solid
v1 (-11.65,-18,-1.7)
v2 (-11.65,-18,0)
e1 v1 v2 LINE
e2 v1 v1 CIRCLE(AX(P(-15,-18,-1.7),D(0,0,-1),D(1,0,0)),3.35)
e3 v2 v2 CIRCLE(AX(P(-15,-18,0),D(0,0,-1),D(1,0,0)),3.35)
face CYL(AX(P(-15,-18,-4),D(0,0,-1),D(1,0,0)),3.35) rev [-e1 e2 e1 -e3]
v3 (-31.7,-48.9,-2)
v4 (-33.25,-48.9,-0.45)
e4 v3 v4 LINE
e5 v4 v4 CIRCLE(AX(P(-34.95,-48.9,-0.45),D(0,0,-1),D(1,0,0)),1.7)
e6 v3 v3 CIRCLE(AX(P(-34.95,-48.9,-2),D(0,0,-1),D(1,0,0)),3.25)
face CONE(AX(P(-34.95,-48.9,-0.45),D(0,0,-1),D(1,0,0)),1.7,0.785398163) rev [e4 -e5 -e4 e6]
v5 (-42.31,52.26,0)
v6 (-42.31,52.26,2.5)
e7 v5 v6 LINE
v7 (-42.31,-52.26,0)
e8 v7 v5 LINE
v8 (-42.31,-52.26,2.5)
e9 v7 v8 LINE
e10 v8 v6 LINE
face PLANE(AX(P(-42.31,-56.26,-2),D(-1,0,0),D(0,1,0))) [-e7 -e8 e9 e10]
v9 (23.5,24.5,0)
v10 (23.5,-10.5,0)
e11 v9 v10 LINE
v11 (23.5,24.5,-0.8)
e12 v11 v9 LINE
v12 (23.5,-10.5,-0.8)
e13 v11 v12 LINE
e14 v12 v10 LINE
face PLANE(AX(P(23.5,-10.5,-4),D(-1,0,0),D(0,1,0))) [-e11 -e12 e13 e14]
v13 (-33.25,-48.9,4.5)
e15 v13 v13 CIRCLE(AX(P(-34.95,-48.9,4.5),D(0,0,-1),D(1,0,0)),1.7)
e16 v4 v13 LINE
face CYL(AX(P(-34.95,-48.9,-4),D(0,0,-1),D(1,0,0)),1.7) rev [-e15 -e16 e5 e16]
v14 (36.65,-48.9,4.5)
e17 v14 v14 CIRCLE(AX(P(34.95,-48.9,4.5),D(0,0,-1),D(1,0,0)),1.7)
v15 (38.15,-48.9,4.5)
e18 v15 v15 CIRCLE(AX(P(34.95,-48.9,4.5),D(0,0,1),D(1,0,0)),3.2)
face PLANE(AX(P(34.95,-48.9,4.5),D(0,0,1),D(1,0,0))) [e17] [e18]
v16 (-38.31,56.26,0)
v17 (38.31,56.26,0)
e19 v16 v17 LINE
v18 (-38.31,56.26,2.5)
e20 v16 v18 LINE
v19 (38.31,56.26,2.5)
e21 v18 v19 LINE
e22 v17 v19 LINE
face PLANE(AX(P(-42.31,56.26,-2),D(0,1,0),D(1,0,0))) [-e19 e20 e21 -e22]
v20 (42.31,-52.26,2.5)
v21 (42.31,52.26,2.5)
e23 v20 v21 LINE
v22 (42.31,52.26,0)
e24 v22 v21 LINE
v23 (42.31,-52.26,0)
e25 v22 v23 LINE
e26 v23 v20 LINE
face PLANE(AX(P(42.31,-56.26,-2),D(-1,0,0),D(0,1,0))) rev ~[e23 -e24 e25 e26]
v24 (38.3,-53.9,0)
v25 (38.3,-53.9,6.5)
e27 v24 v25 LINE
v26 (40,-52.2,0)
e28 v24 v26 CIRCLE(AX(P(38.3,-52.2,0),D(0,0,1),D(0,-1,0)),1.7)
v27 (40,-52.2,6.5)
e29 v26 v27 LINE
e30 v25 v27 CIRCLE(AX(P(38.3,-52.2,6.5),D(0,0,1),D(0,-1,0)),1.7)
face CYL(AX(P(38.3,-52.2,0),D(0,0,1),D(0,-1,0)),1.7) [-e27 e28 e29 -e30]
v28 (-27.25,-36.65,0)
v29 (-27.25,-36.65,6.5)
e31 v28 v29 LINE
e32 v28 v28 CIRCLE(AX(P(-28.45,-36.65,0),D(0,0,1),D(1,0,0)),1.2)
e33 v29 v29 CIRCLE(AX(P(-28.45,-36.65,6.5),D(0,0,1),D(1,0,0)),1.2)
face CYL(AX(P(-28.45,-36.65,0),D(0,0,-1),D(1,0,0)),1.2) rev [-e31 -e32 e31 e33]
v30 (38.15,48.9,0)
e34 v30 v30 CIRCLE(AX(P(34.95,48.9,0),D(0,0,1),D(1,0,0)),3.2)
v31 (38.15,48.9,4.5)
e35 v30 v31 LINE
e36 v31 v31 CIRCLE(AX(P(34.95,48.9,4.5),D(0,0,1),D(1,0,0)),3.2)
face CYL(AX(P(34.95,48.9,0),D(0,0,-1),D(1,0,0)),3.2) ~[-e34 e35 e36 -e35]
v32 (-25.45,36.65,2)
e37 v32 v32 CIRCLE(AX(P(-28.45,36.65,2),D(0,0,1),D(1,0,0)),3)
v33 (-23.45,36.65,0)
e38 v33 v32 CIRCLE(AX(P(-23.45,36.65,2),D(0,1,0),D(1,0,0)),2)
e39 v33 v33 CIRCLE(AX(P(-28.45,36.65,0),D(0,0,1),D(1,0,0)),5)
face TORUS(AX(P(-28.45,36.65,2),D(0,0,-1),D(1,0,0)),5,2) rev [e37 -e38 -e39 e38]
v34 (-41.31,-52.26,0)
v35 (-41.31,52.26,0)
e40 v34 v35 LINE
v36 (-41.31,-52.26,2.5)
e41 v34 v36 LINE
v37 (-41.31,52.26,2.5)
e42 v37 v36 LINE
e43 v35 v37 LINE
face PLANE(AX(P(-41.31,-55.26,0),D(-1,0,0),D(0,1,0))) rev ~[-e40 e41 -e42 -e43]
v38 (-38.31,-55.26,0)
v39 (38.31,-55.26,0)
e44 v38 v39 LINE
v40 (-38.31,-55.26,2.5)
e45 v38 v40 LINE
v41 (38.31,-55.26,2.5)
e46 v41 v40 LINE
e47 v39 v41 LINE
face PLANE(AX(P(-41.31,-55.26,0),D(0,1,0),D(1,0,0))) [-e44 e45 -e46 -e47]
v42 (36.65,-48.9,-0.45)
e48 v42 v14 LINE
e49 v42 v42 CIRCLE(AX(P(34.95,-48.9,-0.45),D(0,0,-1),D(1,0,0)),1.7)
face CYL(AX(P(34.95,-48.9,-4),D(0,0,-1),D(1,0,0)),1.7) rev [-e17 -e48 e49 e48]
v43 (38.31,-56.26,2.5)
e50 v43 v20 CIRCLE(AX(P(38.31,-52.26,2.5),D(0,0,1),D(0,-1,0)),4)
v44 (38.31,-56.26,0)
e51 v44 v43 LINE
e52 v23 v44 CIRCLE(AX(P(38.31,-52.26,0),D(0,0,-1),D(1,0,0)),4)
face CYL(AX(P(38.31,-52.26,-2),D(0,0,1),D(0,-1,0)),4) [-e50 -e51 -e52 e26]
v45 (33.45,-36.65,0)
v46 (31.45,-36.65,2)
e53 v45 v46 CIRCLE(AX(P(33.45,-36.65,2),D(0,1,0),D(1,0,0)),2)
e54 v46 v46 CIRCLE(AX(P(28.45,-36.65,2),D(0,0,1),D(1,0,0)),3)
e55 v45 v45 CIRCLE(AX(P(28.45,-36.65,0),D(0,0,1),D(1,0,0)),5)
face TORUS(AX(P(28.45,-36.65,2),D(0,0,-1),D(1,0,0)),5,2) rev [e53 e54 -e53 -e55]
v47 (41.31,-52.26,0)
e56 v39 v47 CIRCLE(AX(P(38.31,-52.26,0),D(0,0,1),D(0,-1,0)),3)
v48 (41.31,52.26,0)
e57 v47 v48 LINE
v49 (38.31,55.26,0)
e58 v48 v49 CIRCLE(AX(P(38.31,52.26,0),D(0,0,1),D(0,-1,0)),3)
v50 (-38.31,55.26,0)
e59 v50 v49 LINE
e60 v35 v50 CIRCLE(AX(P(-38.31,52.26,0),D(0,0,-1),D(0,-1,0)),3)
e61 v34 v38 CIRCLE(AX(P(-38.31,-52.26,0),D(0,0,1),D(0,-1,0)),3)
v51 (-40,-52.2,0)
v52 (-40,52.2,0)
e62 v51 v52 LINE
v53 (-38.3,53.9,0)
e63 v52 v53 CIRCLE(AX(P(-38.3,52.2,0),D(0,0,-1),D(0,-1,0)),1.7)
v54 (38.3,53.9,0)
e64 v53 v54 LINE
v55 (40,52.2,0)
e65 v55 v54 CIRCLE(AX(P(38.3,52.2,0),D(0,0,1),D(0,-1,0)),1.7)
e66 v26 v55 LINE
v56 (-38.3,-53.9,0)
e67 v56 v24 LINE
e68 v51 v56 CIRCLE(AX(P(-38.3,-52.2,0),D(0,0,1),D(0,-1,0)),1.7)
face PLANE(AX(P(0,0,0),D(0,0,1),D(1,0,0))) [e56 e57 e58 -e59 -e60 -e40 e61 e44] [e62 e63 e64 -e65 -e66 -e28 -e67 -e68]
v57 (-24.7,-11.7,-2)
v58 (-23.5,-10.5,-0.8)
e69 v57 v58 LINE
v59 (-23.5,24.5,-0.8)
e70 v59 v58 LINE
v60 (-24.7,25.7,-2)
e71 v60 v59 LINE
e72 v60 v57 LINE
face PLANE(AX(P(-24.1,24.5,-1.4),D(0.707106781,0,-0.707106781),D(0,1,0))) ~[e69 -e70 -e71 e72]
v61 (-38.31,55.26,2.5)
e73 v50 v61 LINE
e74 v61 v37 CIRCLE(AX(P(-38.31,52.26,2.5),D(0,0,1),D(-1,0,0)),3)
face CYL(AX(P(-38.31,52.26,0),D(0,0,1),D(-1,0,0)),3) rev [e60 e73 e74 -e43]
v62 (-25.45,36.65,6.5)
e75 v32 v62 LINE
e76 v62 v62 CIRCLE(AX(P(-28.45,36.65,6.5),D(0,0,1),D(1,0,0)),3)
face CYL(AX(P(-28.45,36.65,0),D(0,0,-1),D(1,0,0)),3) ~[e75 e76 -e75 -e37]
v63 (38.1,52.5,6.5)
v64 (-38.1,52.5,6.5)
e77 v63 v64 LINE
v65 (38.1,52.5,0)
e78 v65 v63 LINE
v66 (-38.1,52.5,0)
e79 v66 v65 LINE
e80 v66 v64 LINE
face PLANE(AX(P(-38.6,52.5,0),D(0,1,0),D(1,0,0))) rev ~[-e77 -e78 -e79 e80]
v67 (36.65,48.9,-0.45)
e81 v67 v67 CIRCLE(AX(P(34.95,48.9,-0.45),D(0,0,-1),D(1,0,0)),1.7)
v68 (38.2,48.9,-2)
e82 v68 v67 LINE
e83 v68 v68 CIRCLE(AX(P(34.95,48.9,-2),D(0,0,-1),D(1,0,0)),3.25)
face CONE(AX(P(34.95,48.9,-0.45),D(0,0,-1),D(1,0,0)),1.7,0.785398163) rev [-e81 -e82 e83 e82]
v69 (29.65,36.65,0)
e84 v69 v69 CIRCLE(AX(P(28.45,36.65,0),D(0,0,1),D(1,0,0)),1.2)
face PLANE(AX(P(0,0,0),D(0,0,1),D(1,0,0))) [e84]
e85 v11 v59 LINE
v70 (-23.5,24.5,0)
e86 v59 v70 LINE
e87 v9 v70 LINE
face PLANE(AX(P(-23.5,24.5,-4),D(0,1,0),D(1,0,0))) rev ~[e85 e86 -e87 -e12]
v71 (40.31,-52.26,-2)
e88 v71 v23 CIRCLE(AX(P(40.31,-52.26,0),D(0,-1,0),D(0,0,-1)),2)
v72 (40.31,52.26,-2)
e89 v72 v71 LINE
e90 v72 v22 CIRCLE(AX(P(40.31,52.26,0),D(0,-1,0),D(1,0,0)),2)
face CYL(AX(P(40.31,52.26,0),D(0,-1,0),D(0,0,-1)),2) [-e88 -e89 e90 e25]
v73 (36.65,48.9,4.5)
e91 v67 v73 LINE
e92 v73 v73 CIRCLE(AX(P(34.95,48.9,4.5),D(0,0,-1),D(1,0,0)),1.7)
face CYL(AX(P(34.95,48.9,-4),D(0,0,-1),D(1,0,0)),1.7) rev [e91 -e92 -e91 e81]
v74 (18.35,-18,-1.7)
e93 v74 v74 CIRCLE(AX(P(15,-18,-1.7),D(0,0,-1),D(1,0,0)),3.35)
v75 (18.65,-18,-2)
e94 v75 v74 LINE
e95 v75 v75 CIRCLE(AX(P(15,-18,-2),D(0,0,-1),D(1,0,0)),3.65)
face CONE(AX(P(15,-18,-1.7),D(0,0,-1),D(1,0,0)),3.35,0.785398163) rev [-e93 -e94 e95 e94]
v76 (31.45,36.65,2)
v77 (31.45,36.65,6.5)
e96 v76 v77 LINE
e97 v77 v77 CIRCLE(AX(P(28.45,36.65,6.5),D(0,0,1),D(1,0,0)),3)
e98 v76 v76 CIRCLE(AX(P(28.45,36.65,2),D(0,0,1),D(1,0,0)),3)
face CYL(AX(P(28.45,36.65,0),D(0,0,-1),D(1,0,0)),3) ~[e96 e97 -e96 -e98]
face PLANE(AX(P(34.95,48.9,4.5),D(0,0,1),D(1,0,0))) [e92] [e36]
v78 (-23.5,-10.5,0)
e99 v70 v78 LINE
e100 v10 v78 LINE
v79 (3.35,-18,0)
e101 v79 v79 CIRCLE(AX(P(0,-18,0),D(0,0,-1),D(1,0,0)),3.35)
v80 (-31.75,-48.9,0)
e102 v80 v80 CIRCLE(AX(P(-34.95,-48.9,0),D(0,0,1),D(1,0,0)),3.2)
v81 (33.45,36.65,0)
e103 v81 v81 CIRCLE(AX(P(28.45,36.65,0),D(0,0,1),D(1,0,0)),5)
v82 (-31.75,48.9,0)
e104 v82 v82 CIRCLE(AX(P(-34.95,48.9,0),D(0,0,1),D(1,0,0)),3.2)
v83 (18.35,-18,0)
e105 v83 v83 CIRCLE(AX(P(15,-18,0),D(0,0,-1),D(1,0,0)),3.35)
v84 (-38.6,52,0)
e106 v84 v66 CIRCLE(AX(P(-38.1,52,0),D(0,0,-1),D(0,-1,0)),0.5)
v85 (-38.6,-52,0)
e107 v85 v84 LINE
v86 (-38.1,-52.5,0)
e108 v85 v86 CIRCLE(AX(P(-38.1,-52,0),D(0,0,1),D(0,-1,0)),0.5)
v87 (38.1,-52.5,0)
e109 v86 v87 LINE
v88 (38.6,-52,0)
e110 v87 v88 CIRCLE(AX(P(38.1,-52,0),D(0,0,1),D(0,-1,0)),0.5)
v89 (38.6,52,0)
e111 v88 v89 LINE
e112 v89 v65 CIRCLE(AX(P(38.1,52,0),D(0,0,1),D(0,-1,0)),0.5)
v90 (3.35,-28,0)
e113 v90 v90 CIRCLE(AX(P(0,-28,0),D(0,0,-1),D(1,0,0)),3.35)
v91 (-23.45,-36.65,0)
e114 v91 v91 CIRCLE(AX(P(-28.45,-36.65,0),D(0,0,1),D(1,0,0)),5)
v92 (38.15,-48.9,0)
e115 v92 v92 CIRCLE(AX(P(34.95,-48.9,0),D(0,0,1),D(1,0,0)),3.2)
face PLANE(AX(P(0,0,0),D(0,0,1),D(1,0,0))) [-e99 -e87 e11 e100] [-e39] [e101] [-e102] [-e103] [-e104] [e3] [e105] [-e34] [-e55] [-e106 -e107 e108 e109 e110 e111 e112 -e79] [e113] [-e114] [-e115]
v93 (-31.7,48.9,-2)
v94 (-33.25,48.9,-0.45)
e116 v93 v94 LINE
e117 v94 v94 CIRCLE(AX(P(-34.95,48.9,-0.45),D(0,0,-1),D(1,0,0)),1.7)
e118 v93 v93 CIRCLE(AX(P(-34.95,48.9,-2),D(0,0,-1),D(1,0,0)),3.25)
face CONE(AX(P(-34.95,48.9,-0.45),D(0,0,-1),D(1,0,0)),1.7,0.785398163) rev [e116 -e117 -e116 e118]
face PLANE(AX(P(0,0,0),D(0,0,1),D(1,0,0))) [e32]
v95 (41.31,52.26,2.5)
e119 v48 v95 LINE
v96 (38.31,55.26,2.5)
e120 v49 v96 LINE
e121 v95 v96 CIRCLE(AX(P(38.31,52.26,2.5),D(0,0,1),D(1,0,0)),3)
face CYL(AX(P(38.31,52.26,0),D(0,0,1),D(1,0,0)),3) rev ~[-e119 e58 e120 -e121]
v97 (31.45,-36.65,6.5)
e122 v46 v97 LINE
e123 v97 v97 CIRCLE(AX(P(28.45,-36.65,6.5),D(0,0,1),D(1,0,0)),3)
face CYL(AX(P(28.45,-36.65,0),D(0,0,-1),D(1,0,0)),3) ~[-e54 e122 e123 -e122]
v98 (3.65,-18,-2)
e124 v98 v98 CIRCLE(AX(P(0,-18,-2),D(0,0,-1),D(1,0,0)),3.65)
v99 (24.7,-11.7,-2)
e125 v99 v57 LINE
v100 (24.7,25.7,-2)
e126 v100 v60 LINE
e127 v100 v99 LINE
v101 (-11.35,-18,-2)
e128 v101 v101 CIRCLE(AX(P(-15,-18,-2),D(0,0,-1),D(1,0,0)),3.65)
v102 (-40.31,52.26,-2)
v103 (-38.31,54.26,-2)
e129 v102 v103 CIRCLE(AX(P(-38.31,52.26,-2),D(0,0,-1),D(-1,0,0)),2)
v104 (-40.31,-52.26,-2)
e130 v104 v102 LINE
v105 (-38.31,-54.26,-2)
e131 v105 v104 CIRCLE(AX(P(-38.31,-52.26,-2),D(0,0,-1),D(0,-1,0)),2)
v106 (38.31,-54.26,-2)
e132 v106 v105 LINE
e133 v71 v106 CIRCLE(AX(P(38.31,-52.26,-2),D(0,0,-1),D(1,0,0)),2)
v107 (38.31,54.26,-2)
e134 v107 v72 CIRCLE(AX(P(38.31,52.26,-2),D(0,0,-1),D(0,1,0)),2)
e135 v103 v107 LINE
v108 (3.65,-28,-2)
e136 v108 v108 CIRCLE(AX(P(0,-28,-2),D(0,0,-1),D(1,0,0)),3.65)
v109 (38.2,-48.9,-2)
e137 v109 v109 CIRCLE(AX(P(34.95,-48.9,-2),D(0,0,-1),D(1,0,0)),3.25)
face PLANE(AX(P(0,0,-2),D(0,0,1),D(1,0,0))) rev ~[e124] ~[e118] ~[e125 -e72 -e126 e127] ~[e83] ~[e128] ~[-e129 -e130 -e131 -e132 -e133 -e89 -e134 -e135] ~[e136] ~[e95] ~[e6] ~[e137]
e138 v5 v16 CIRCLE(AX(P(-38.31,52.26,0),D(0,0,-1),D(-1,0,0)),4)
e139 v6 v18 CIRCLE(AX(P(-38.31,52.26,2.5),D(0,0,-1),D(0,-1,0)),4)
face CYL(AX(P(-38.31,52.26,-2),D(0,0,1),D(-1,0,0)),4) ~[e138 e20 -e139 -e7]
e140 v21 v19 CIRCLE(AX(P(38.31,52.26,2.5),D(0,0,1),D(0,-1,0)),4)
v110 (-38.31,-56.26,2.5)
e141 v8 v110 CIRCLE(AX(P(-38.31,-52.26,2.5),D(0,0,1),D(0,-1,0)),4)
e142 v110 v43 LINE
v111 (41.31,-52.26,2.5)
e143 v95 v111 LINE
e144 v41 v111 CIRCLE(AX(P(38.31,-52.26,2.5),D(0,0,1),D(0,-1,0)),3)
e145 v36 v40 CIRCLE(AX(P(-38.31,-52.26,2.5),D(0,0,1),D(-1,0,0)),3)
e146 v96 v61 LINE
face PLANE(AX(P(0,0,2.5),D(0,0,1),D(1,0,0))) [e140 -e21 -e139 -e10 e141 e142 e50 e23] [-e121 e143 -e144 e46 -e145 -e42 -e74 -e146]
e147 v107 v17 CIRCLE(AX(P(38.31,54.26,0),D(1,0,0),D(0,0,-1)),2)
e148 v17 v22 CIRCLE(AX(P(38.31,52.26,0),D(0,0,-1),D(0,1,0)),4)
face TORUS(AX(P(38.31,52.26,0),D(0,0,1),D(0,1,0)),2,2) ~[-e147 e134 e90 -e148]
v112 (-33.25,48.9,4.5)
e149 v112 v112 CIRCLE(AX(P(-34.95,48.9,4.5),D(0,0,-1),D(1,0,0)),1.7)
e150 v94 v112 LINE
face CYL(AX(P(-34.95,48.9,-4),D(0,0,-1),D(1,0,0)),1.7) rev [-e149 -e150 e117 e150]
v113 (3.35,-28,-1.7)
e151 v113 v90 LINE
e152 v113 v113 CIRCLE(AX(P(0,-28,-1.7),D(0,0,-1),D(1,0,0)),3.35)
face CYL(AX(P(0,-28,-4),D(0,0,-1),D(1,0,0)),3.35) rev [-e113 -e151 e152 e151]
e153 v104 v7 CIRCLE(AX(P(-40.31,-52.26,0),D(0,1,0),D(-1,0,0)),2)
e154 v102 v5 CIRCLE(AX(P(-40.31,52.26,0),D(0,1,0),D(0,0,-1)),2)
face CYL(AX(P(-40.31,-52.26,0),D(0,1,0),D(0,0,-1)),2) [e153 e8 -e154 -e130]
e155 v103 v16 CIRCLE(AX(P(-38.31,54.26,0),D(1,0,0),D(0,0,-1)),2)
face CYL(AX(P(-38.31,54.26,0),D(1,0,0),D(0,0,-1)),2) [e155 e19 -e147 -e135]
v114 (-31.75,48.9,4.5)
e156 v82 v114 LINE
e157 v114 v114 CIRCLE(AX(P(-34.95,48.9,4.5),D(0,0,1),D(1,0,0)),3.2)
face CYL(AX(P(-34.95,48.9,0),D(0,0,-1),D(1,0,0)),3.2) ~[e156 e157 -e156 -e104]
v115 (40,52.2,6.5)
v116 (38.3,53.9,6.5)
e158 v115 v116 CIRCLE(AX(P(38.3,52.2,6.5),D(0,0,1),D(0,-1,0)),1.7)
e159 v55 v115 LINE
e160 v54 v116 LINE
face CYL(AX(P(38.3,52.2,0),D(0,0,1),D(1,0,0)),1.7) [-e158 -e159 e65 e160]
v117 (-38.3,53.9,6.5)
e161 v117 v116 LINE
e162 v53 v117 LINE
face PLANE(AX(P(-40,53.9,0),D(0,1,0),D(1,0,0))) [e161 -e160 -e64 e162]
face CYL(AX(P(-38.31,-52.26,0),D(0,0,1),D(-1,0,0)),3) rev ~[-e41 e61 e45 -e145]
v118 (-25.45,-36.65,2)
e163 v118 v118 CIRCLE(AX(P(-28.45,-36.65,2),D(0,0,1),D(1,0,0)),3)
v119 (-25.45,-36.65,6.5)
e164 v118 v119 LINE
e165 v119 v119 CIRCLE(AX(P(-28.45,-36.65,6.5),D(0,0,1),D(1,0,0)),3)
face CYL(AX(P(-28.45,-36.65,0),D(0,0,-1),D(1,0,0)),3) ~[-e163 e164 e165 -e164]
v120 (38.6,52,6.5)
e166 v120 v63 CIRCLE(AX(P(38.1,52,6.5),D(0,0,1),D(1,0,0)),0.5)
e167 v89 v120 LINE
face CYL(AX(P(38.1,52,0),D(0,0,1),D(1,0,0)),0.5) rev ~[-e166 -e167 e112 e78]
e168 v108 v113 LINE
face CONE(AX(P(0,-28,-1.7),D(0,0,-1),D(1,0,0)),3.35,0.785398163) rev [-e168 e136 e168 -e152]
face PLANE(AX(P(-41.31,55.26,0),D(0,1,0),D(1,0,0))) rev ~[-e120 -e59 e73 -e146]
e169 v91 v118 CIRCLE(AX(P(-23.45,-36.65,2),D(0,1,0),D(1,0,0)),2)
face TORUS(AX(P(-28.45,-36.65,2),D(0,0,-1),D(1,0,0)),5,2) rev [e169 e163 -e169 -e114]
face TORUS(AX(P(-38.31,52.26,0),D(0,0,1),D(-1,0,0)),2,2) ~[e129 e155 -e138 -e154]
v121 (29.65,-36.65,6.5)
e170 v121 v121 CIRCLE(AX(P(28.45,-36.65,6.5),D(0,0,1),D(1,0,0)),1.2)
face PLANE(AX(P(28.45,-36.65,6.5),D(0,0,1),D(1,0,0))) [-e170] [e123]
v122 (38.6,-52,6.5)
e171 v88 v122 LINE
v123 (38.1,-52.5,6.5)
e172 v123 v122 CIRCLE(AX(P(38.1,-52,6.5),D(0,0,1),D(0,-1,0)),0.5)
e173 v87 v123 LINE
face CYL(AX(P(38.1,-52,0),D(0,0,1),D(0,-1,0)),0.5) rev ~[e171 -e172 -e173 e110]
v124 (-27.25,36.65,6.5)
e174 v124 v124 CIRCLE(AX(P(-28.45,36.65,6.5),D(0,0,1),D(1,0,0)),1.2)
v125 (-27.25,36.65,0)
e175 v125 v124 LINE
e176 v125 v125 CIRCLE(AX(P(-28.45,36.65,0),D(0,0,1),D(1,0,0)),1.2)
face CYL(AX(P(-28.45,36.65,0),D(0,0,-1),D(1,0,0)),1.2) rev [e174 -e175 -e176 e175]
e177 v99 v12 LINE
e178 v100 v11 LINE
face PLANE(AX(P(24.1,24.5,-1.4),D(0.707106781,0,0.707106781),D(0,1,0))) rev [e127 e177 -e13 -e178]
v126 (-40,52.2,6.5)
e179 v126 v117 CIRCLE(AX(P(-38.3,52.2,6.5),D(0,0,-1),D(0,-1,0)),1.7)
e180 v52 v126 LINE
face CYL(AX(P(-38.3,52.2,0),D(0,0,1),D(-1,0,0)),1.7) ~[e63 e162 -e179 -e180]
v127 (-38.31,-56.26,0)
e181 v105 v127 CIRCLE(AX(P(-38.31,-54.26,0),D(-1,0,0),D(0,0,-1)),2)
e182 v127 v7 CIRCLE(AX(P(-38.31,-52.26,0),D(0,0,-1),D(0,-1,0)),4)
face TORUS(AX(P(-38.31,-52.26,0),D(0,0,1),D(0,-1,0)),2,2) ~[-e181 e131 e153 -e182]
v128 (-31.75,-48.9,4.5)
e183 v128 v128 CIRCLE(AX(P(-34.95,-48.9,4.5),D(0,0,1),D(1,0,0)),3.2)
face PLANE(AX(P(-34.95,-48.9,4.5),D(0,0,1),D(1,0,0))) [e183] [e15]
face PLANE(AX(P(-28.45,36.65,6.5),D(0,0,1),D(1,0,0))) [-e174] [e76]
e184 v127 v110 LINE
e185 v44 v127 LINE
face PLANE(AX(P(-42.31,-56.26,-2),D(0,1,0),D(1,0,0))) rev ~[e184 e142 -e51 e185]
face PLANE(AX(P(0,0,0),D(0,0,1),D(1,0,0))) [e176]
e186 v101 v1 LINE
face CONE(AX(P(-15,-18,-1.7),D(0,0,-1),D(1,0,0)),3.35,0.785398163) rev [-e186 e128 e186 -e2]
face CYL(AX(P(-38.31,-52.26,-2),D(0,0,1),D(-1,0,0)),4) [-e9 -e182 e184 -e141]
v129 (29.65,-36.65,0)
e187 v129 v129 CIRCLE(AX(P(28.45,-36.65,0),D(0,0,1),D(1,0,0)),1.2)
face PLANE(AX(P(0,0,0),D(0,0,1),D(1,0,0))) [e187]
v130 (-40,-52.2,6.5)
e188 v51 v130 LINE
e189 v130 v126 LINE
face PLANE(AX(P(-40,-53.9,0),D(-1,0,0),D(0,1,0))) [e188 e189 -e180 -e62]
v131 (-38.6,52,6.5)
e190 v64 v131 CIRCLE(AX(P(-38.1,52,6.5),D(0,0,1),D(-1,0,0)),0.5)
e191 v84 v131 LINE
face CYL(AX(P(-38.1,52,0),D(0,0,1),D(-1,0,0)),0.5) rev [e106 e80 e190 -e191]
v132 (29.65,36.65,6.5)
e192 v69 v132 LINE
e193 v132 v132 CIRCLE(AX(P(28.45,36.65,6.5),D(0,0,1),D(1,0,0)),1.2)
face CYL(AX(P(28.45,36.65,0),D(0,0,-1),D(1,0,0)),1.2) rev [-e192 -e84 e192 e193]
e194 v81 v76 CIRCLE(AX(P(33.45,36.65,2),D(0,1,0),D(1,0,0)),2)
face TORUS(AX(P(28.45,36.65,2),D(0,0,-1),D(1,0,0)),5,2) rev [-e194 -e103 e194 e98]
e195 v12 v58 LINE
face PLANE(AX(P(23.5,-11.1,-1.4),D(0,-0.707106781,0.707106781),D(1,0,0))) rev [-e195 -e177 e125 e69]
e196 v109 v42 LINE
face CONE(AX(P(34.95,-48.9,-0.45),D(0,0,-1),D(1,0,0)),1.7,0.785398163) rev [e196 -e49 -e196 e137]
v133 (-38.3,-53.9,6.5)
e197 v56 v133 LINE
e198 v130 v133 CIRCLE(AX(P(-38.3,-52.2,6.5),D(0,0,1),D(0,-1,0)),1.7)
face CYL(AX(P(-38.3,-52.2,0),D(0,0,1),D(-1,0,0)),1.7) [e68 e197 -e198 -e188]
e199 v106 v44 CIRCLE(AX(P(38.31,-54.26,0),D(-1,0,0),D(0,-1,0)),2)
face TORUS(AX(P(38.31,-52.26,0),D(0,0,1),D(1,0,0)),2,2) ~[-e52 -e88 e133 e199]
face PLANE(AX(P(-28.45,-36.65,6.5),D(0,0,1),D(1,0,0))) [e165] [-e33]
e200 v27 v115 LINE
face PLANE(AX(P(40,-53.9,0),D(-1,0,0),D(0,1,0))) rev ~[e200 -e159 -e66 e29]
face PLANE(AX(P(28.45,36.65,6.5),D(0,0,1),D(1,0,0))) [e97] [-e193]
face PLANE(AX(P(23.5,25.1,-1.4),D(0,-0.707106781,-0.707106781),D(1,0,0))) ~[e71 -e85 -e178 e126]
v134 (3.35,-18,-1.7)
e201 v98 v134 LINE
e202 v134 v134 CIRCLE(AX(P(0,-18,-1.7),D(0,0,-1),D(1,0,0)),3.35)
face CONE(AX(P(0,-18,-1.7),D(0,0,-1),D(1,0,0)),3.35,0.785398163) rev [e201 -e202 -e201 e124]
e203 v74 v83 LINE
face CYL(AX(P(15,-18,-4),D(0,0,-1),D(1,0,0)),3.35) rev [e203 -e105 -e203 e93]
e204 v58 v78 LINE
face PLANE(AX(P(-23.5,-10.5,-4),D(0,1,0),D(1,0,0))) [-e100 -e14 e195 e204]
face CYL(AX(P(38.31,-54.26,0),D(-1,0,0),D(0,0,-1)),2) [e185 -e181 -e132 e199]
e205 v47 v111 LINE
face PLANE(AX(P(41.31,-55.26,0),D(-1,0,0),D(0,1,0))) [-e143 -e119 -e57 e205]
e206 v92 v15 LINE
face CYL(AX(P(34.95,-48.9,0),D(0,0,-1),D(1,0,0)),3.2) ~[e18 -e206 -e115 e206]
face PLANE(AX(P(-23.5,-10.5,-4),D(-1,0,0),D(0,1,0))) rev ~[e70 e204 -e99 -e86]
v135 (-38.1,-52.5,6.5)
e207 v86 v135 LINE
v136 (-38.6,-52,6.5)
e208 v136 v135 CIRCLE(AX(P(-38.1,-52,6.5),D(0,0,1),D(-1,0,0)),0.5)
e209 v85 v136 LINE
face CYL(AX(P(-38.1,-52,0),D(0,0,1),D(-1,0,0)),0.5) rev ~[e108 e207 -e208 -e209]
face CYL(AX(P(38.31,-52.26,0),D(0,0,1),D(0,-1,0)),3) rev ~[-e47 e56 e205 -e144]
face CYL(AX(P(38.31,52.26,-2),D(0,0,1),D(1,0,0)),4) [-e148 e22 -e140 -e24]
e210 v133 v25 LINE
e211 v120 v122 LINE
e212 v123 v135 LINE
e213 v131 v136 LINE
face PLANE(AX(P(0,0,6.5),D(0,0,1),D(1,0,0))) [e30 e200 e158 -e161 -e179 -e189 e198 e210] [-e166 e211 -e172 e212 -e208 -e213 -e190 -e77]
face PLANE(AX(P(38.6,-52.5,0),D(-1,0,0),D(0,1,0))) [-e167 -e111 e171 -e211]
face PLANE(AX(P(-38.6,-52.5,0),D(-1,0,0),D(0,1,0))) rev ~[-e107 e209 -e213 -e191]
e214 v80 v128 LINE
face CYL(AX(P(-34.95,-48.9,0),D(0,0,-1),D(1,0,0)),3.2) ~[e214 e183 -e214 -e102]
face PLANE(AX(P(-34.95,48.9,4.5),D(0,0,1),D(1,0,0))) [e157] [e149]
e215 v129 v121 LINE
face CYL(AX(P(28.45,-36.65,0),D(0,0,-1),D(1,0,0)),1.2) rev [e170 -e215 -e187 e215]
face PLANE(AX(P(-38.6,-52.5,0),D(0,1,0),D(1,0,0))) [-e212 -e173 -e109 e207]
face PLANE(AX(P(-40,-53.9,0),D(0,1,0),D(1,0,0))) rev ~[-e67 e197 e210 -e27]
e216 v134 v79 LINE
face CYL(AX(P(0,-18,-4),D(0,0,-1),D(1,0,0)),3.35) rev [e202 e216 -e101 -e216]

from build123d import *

# Parameters (mm, degrees)
BOX001_W          = 47
BOX001_H          = 35
BOX001_DEPTH      = 10
CYLINDER005_R     = 3.35
CYLINDER005_DEPTH = 10
CYLINDER006_R     = 3.35
CYLINDER006_DEPTH = 10
CYLINDER004_R     = 3.35
CYLINDER004_DEPTH = 10
CYLINDER003_R     = 3.35
CYLINDER003_DEPTH = 10
CYLINDER013_R     = 1.7
CYLINDER013_DEPTH = 11.5
CYLINDER014_R     = 1.7
CYLINDER014_DEPTH = 11.5
CYLINDER008_R     = 1.7
CYLINDER008_DEPTH = 11.5
CYLINDER012_R     = 1.7
CYLINDER012_DEPTH = 11.5
CYLINDER007_R     = 3.2
CYLINDER007_DEPTH = 4.5
CYLINDER009_R     = 3.2
CYLINDER009_DEPTH = 4.5
CYLINDER010_R     = 3.2
CYLINDER010_DEPTH = 4.5
CYLINDER011_R     = 3.2
CYLINDER011_DEPTH = 4.5
CYLINDER017_R     = 1.2
CYLINDER017_DEPTH = 6.5
CYLINDER018_R     = 3
CYLINDER018_DEPTH = 6.5
CYLINDER019_R     = 1.2
CYLINDER019_DEPTH = 6.5
CYLINDER020_R     = 3
CYLINDER020_DEPTH = 6.5
CYLINDER021_R     = 1.2
CYLINDER021_DEPTH = 6.5
CYLINDER022_R     = 3
CYLINDER022_DEPTH = 6.5
CYLINDER001_R     = 1.2
CYLINDER001_DEPTH = 6.5
CYLINDER_R        = 3
CYLINDER_DEPTH    = 6.5
BOX005_W          = 82.62
BOX005_H          = 110.52
BOX005_DEPTH      = 4
FILLET003_R       = 3
BOX004_W          = 84.62
BOX004_H          = 112.52
BOX004_DEPTH      = 4.5
FILLET002_R       = 4
BOX003_W          = 77.2
BOX003_H          = 105
BOX003_DEPTH      = 10
FILLET001_R       = 0.5
BOX002_W          = 80
BOX002_H          = 107.8
BOX002_DEPTH      = 6.5
FILLET_R          = 1.7
CHAMFER_SIZE      = 1.55
FILLET004_R       = 2
CHAMFER001_SIZE   = 1.2
CHAMFER002_SIZE   = 0.3


with BuildPart() as tft:
    # Box001 → Box001 (new body)
    with BuildSketch(Plane(origin=(-23.5, -10.5, -4), x_dir=(1, 0, 0), z_dir=(0, 0, 1))):
        with Locations((23.5, 17.5)):
            Rectangle(BOX001_W, BOX001_H)
    extrude(amount=BOX001_DEPTH)


with BuildPart() as button003:
    # Cylinder005 → Cylinder005 (new body)
    with BuildSketch(Plane(origin=(15, -13, -4), x_dir=(1, 0, 0), z_dir=(0, 0, 1))):
        Circle(CYLINDER005_R)
    extrude(amount=CYLINDER005_DEPTH)


with BuildPart() as button004:
    # Cylinder006 → Cylinder006 (new body)
    with BuildSketch(Plane(origin=(0, -23, -4), x_dir=(1, 0, 0), z_dir=(0, 0, 1))):
        Circle(CYLINDER006_R)
    extrude(amount=CYLINDER006_DEPTH)


with BuildPart() as button002:
    # Cylinder004 → Cylinder004 (new body)
    with BuildSketch(Plane(origin=(-15, -13, -4), x_dir=(1, 0, 0), z_dir=(0, 0, 1))):
        Circle(CYLINDER004_R)
    extrude(amount=CYLINDER004_DEPTH)


with BuildPart() as buttons:
    # Cylinder003 → Cylinder003 (new body)
    with BuildSketch(Plane(origin=(0, -13, -4), x_dir=(1, 0, 0), z_dir=(0, 0, 1))):
        Circle(CYLINDER003_R)
    extrude(amount=CYLINDER003_DEPTH)

    # Fusion004: union button003, button004, button002
    add(button003.part)
    add(button004.part)
    add(button002.part)


with BuildPart() as buttons_1:
    # Fusion004 placement: moved
    add(buttons.part.moved(Location((0, -5, 0))))


with BuildPart() as cylinder013:
    # Cylinder013 → Cylinder013 (new body)
    with BuildSketch(Plane(origin=(-34.95, -48.9, -4), x_dir=(1, 0, 0), z_dir=(0, 0, 1))):
        Circle(CYLINDER013_R)
    extrude(amount=CYLINDER013_DEPTH)


with BuildPart() as cylinder014:
    # Cylinder014 → Cylinder014 (new body)
    with BuildSketch(Plane(origin=(34.95, -48.9, -4), x_dir=(1, 0, 0), z_dir=(0, 0, 1))):
        Circle(CYLINDER014_R)
    extrude(amount=CYLINDER014_DEPTH)


with BuildPart() as cylinder008:
    # Cylinder008 → Cylinder008 (new body)
    with BuildSketch(Plane(origin=(34.95, 48.9, -4), x_dir=(1, 0, 0), z_dir=(0, 0, 1))):
        Circle(CYLINDER008_R)
    extrude(amount=CYLINDER008_DEPTH)


with BuildPart() as fusion005:
    # Cylinder012 → Cylinder012 (new body)
    with BuildSketch(Plane(origin=(-34.95, 48.9, -4), x_dir=(1, 0, 0), z_dir=(0, 0, 1))):
        Circle(CYLINDER012_R)
    extrude(amount=CYLINDER012_DEPTH)

    # Fusion: union Cylinder013, Cylinder014, Cylinder008
    add(cylinder013.part)
    add(cylinder014.part)
    add(cylinder008.part)

    # Fusion005: union -TFT, -Buttons
    add(tft.part)
    add(buttons_1.part)


with BuildPart() as cylinder007:
    # Cylinder007 → Cylinder007 (new body)
    with BuildSketch(Plane(origin=(34.95, 48.9, 0), x_dir=(1, 0, 0), z_dir=(0, 0, 1))):
        Circle(CYLINDER007_R)
    extrude(amount=CYLINDER007_DEPTH)


with BuildPart() as cylinder009:
    # Cylinder009 → Cylinder009 (new body)
    with BuildSketch(Plane(origin=(-34.95, 48.9, 0), x_dir=(1, 0, 0), z_dir=(0, 0, 1))):
        Circle(CYLINDER009_R)
    extrude(amount=CYLINDER009_DEPTH)


with BuildPart() as cylinder010:
    # Cylinder010 → Cylinder010 (new body)
    with BuildSketch(Plane(origin=(-34.95, -48.9, 0), x_dir=(1, 0, 0), z_dir=(0, 0, 1))):
        Circle(CYLINDER010_R)
    extrude(amount=CYLINDER010_DEPTH)


with BuildPart() as bussen_front:
    # Cylinder011 → Cylinder011 (new body)
    with BuildSketch(Plane(origin=(34.95, -48.9, 0), x_dir=(1, 0, 0), z_dir=(0, 0, 1))):
        Circle(CYLINDER011_R)
    extrude(amount=CYLINDER011_DEPTH)

    # Fusion002: union Cylinder007, Cylinder009, Cylinder010
    add(cylinder007.part)
    add(cylinder009.part)
    add(cylinder010.part)


with BuildPart() as schroefgat002:
    # Cylinder017 → Cylinder017 (new body)
    with BuildSketch(Plane.XY):
        Circle(CYLINDER017_R)
    extrude(amount=CYLINDER017_DEPTH)


with BuildPart() as cut008:
    # Cylinder018 → Cylinder018 (new body)
    with BuildSketch(Plane.XY):
        Circle(CYLINDER018_R)
    extrude(amount=CYLINDER018_DEPTH)

    # Cut008: cut Schroefgat002
    add(schroefgat002.part, mode=Mode.SUBTRACT)


with BuildPart() as cut008_1:
    # Cut008 placement: moved
    add(cut008.part.moved(Location((-28.45, 36.65, 0))))


with BuildPart() as schroefgat003:
    # Cylinder019 → Cylinder019 (new body)
    with BuildSketch(Plane.XY):
        Circle(CYLINDER019_R)
    extrude(amount=CYLINDER019_DEPTH)


with BuildPart() as cut009:
    # Cylinder020 → Cylinder020 (new body)
    with BuildSketch(Plane.XY):
        Circle(CYLINDER020_R)
    extrude(amount=CYLINDER020_DEPTH)

    # Cut009: cut Schroefgat003
    add(schroefgat003.part, mode=Mode.SUBTRACT)


with BuildPart() as cut009_1:
    # Cut009 placement: moved
    add(cut009.part.moved(Location((-28.45, -36.65, 0))))


with BuildPart() as schroefgat004:
    # Cylinder021 → Cylinder021 (new body)
    with BuildSketch(Plane.XY):
        Circle(CYLINDER021_R)
    extrude(amount=CYLINDER021_DEPTH)


with BuildPart() as cut010:
    # Cylinder022 → Cylinder022 (new body)
    with BuildSketch(Plane.XY):
        Circle(CYLINDER022_R)
    extrude(amount=CYLINDER022_DEPTH)

    # Cut010: cut Schroefgat004
    add(schroefgat004.part, mode=Mode.SUBTRACT)


with BuildPart() as cut010_1:
    # Cut010 placement: moved
    add(cut010.part.moved(Location((28.45, -36.65, 0))))


with BuildPart() as schroefgat:
    # Cylinder001 → Cylinder001 (new body)
    with BuildSketch(Plane.XY):
        Circle(CYLINDER001_R)
    extrude(amount=CYLINDER001_DEPTH)


with BuildPart() as bussen:
    # Cylinder → Cylinder (new body)
    with BuildSketch(Plane.XY):
        Circle(CYLINDER_R)
    extrude(amount=CYLINDER_DEPTH)

    # Cut007: cut Schroefgat
    add(schroefgat.part, mode=Mode.SUBTRACT)


with BuildPart() as bussen_1:
    # Cut007 placement: moved
    add(bussen.part.moved(Location((28.45, 36.65, 0))))

    # Fusion001: union Cut008, Cut009, Cut010
    add(cut008_1.part)
    add(cut009_1.part)
    add(cut010_1.part)


with BuildPart() as fillet003:
    # Box005 → Box005 (new body)
    with BuildSketch(Plane(origin=(-41.31, -55.26, 0), x_dir=(1, 0, 0), z_dir=(0, 0, 1))):
        with Locations((41.31, 55.26)):
            Rectangle(BOX005_W, BOX005_H)
    extrude(amount=BOX005_DEPTH)

    # Fillet003
    fillet003_edges = [fillet003.edges().sort_by_distance(p)[0] for p in [
        (-41.31, -55.26, 2),
        (-41.31, 55.26, 2),
        (41.31, -55.26, 2),
        (41.31, 55.26, 2),
    ]]
    fillet(fillet003_edges, radius=FILLET003_R)


with BuildPart() as front_kaal:
    # Box004 → Box004 (new body)
    with BuildSketch(Plane(origin=(-42.31, -56.26, -2), x_dir=(1, 0, 0), z_dir=(0, 0, 1))):
        with Locations((42.31, 56.26)):
            Rectangle(BOX004_W, BOX004_H)
    extrude(amount=BOX004_DEPTH)

    # Fillet002
    fillet002_edges = [front_kaal.edges().sort_by_distance(p)[0] for p in [
        (-42.31, -56.26, 0.25),
        (-42.31, 56.26, 0.25),
        (42.31, -56.26, 0.25),
        (42.31, 56.26, 0.25),
    ]]
    fillet(fillet002_edges, radius=FILLET002_R)

    # Cut: cut Fillet003
    add(fillet003.part, mode=Mode.SUBTRACT)


with BuildPart() as fillet001:
    # Box003 → Box003 (new body)
    with BuildSketch(Plane(origin=(-38.6, -52.5, 0), x_dir=(1, 0, 0), z_dir=(0, 0, 1))):
        with Locations((38.6, 52.5)):
            Rectangle(BOX003_W, BOX003_H)
    extrude(amount=BOX003_DEPTH)

    # Fillet001
    fillet001_edges = [fillet001.edges().sort_by_distance(p)[0] for p in [
        (-38.6, -52.5, 5),
        (-38.6, 52.5, 5),
        (38.6, -52.5, 5),
        (38.6, 52.5, 5),
    ]]
    fillet(fillet001_edges, radius=FILLET001_R)


with BuildPart() as chamfer_buttons:
    # Box002 → Box002 (new body)
    with BuildSketch(Plane(origin=(-40, -53.9, 0), x_dir=(1, 0, 0), z_dir=(0, 0, 1))):
        with Locations((40, 53.9)):
            Rectangle(BOX002_W, BOX002_H)
    extrude(amount=BOX002_DEPTH)

    # Fillet
    fillet_edges = [chamfer_buttons.edges().sort_by_distance(p)[0] for p in [
        (-40, -53.9, 3.25),
        (-40, 53.9, 3.25),
        (40, -53.9, 3.25),
        (40, 53.9, 3.25),
    ]]
    fillet(fillet_edges, radius=FILLET_R)

    # Cut003: cut Fillet001
    add(fillet001.part, mode=Mode.SUBTRACT)

    # Fusion006: union +Bussen front, +Bussen, +Front kaal
    add(bussen_front.part)
    add(bussen_1.part)
    add(front_kaal.part)

    # Cut006: cut Fusion005
    add(fusion005.part, mode=Mode.SUBTRACT)

    # Chamfer
    chamfer_edges = [chamfer_buttons.edges().sort_by_distance(p)[0] for p in [
        (-36.65, -48.9, -2),
        (-36.65, 48.9, -2),
        (33.25, 48.9, -2),
        (33.25, -48.9, -2),
    ]]
    chamfer(chamfer_edges, length=CHAMFER_SIZE)

    # Fillet004
    fillet004_edges = [chamfer_buttons.edges().sort_by_distance(p)[0] for p in [
        (0, 56.26, -2),
        (-31.45, 36.65, 0),
        (25.45, 36.65, 0),
        (25.45, -36.65, 0),
        (-31.45, -36.65, 0),
    ]]
    fillet(fillet004_edges, radius=FILLET004_R)

    # Chamfer001
    chamfer001_edges = [chamfer_buttons.edges().sort_by_distance(p)[0] for p in [
        (0, -10.5, -2),
        (23.5, 7, -2),
        (0, 24.5, -2),
        (-23.5, 7, -2),
    ]]
    chamfer(chamfer001_edges, length=CHAMFER001_SIZE)

    # Chamfer002
    chamfer002_edges = [chamfer_buttons.edges().sort_by_distance(p)[0] for p in [
        (11.65, -18, -2),
        (-3.35, -18, -2),
        (-18.35, -18, -2),
        (-3.35, -28, -2),
    ]]
    chamfer(chamfer002_edges, length=CHAMFER002_SIZE)


solid = chamfer_buttons.part
